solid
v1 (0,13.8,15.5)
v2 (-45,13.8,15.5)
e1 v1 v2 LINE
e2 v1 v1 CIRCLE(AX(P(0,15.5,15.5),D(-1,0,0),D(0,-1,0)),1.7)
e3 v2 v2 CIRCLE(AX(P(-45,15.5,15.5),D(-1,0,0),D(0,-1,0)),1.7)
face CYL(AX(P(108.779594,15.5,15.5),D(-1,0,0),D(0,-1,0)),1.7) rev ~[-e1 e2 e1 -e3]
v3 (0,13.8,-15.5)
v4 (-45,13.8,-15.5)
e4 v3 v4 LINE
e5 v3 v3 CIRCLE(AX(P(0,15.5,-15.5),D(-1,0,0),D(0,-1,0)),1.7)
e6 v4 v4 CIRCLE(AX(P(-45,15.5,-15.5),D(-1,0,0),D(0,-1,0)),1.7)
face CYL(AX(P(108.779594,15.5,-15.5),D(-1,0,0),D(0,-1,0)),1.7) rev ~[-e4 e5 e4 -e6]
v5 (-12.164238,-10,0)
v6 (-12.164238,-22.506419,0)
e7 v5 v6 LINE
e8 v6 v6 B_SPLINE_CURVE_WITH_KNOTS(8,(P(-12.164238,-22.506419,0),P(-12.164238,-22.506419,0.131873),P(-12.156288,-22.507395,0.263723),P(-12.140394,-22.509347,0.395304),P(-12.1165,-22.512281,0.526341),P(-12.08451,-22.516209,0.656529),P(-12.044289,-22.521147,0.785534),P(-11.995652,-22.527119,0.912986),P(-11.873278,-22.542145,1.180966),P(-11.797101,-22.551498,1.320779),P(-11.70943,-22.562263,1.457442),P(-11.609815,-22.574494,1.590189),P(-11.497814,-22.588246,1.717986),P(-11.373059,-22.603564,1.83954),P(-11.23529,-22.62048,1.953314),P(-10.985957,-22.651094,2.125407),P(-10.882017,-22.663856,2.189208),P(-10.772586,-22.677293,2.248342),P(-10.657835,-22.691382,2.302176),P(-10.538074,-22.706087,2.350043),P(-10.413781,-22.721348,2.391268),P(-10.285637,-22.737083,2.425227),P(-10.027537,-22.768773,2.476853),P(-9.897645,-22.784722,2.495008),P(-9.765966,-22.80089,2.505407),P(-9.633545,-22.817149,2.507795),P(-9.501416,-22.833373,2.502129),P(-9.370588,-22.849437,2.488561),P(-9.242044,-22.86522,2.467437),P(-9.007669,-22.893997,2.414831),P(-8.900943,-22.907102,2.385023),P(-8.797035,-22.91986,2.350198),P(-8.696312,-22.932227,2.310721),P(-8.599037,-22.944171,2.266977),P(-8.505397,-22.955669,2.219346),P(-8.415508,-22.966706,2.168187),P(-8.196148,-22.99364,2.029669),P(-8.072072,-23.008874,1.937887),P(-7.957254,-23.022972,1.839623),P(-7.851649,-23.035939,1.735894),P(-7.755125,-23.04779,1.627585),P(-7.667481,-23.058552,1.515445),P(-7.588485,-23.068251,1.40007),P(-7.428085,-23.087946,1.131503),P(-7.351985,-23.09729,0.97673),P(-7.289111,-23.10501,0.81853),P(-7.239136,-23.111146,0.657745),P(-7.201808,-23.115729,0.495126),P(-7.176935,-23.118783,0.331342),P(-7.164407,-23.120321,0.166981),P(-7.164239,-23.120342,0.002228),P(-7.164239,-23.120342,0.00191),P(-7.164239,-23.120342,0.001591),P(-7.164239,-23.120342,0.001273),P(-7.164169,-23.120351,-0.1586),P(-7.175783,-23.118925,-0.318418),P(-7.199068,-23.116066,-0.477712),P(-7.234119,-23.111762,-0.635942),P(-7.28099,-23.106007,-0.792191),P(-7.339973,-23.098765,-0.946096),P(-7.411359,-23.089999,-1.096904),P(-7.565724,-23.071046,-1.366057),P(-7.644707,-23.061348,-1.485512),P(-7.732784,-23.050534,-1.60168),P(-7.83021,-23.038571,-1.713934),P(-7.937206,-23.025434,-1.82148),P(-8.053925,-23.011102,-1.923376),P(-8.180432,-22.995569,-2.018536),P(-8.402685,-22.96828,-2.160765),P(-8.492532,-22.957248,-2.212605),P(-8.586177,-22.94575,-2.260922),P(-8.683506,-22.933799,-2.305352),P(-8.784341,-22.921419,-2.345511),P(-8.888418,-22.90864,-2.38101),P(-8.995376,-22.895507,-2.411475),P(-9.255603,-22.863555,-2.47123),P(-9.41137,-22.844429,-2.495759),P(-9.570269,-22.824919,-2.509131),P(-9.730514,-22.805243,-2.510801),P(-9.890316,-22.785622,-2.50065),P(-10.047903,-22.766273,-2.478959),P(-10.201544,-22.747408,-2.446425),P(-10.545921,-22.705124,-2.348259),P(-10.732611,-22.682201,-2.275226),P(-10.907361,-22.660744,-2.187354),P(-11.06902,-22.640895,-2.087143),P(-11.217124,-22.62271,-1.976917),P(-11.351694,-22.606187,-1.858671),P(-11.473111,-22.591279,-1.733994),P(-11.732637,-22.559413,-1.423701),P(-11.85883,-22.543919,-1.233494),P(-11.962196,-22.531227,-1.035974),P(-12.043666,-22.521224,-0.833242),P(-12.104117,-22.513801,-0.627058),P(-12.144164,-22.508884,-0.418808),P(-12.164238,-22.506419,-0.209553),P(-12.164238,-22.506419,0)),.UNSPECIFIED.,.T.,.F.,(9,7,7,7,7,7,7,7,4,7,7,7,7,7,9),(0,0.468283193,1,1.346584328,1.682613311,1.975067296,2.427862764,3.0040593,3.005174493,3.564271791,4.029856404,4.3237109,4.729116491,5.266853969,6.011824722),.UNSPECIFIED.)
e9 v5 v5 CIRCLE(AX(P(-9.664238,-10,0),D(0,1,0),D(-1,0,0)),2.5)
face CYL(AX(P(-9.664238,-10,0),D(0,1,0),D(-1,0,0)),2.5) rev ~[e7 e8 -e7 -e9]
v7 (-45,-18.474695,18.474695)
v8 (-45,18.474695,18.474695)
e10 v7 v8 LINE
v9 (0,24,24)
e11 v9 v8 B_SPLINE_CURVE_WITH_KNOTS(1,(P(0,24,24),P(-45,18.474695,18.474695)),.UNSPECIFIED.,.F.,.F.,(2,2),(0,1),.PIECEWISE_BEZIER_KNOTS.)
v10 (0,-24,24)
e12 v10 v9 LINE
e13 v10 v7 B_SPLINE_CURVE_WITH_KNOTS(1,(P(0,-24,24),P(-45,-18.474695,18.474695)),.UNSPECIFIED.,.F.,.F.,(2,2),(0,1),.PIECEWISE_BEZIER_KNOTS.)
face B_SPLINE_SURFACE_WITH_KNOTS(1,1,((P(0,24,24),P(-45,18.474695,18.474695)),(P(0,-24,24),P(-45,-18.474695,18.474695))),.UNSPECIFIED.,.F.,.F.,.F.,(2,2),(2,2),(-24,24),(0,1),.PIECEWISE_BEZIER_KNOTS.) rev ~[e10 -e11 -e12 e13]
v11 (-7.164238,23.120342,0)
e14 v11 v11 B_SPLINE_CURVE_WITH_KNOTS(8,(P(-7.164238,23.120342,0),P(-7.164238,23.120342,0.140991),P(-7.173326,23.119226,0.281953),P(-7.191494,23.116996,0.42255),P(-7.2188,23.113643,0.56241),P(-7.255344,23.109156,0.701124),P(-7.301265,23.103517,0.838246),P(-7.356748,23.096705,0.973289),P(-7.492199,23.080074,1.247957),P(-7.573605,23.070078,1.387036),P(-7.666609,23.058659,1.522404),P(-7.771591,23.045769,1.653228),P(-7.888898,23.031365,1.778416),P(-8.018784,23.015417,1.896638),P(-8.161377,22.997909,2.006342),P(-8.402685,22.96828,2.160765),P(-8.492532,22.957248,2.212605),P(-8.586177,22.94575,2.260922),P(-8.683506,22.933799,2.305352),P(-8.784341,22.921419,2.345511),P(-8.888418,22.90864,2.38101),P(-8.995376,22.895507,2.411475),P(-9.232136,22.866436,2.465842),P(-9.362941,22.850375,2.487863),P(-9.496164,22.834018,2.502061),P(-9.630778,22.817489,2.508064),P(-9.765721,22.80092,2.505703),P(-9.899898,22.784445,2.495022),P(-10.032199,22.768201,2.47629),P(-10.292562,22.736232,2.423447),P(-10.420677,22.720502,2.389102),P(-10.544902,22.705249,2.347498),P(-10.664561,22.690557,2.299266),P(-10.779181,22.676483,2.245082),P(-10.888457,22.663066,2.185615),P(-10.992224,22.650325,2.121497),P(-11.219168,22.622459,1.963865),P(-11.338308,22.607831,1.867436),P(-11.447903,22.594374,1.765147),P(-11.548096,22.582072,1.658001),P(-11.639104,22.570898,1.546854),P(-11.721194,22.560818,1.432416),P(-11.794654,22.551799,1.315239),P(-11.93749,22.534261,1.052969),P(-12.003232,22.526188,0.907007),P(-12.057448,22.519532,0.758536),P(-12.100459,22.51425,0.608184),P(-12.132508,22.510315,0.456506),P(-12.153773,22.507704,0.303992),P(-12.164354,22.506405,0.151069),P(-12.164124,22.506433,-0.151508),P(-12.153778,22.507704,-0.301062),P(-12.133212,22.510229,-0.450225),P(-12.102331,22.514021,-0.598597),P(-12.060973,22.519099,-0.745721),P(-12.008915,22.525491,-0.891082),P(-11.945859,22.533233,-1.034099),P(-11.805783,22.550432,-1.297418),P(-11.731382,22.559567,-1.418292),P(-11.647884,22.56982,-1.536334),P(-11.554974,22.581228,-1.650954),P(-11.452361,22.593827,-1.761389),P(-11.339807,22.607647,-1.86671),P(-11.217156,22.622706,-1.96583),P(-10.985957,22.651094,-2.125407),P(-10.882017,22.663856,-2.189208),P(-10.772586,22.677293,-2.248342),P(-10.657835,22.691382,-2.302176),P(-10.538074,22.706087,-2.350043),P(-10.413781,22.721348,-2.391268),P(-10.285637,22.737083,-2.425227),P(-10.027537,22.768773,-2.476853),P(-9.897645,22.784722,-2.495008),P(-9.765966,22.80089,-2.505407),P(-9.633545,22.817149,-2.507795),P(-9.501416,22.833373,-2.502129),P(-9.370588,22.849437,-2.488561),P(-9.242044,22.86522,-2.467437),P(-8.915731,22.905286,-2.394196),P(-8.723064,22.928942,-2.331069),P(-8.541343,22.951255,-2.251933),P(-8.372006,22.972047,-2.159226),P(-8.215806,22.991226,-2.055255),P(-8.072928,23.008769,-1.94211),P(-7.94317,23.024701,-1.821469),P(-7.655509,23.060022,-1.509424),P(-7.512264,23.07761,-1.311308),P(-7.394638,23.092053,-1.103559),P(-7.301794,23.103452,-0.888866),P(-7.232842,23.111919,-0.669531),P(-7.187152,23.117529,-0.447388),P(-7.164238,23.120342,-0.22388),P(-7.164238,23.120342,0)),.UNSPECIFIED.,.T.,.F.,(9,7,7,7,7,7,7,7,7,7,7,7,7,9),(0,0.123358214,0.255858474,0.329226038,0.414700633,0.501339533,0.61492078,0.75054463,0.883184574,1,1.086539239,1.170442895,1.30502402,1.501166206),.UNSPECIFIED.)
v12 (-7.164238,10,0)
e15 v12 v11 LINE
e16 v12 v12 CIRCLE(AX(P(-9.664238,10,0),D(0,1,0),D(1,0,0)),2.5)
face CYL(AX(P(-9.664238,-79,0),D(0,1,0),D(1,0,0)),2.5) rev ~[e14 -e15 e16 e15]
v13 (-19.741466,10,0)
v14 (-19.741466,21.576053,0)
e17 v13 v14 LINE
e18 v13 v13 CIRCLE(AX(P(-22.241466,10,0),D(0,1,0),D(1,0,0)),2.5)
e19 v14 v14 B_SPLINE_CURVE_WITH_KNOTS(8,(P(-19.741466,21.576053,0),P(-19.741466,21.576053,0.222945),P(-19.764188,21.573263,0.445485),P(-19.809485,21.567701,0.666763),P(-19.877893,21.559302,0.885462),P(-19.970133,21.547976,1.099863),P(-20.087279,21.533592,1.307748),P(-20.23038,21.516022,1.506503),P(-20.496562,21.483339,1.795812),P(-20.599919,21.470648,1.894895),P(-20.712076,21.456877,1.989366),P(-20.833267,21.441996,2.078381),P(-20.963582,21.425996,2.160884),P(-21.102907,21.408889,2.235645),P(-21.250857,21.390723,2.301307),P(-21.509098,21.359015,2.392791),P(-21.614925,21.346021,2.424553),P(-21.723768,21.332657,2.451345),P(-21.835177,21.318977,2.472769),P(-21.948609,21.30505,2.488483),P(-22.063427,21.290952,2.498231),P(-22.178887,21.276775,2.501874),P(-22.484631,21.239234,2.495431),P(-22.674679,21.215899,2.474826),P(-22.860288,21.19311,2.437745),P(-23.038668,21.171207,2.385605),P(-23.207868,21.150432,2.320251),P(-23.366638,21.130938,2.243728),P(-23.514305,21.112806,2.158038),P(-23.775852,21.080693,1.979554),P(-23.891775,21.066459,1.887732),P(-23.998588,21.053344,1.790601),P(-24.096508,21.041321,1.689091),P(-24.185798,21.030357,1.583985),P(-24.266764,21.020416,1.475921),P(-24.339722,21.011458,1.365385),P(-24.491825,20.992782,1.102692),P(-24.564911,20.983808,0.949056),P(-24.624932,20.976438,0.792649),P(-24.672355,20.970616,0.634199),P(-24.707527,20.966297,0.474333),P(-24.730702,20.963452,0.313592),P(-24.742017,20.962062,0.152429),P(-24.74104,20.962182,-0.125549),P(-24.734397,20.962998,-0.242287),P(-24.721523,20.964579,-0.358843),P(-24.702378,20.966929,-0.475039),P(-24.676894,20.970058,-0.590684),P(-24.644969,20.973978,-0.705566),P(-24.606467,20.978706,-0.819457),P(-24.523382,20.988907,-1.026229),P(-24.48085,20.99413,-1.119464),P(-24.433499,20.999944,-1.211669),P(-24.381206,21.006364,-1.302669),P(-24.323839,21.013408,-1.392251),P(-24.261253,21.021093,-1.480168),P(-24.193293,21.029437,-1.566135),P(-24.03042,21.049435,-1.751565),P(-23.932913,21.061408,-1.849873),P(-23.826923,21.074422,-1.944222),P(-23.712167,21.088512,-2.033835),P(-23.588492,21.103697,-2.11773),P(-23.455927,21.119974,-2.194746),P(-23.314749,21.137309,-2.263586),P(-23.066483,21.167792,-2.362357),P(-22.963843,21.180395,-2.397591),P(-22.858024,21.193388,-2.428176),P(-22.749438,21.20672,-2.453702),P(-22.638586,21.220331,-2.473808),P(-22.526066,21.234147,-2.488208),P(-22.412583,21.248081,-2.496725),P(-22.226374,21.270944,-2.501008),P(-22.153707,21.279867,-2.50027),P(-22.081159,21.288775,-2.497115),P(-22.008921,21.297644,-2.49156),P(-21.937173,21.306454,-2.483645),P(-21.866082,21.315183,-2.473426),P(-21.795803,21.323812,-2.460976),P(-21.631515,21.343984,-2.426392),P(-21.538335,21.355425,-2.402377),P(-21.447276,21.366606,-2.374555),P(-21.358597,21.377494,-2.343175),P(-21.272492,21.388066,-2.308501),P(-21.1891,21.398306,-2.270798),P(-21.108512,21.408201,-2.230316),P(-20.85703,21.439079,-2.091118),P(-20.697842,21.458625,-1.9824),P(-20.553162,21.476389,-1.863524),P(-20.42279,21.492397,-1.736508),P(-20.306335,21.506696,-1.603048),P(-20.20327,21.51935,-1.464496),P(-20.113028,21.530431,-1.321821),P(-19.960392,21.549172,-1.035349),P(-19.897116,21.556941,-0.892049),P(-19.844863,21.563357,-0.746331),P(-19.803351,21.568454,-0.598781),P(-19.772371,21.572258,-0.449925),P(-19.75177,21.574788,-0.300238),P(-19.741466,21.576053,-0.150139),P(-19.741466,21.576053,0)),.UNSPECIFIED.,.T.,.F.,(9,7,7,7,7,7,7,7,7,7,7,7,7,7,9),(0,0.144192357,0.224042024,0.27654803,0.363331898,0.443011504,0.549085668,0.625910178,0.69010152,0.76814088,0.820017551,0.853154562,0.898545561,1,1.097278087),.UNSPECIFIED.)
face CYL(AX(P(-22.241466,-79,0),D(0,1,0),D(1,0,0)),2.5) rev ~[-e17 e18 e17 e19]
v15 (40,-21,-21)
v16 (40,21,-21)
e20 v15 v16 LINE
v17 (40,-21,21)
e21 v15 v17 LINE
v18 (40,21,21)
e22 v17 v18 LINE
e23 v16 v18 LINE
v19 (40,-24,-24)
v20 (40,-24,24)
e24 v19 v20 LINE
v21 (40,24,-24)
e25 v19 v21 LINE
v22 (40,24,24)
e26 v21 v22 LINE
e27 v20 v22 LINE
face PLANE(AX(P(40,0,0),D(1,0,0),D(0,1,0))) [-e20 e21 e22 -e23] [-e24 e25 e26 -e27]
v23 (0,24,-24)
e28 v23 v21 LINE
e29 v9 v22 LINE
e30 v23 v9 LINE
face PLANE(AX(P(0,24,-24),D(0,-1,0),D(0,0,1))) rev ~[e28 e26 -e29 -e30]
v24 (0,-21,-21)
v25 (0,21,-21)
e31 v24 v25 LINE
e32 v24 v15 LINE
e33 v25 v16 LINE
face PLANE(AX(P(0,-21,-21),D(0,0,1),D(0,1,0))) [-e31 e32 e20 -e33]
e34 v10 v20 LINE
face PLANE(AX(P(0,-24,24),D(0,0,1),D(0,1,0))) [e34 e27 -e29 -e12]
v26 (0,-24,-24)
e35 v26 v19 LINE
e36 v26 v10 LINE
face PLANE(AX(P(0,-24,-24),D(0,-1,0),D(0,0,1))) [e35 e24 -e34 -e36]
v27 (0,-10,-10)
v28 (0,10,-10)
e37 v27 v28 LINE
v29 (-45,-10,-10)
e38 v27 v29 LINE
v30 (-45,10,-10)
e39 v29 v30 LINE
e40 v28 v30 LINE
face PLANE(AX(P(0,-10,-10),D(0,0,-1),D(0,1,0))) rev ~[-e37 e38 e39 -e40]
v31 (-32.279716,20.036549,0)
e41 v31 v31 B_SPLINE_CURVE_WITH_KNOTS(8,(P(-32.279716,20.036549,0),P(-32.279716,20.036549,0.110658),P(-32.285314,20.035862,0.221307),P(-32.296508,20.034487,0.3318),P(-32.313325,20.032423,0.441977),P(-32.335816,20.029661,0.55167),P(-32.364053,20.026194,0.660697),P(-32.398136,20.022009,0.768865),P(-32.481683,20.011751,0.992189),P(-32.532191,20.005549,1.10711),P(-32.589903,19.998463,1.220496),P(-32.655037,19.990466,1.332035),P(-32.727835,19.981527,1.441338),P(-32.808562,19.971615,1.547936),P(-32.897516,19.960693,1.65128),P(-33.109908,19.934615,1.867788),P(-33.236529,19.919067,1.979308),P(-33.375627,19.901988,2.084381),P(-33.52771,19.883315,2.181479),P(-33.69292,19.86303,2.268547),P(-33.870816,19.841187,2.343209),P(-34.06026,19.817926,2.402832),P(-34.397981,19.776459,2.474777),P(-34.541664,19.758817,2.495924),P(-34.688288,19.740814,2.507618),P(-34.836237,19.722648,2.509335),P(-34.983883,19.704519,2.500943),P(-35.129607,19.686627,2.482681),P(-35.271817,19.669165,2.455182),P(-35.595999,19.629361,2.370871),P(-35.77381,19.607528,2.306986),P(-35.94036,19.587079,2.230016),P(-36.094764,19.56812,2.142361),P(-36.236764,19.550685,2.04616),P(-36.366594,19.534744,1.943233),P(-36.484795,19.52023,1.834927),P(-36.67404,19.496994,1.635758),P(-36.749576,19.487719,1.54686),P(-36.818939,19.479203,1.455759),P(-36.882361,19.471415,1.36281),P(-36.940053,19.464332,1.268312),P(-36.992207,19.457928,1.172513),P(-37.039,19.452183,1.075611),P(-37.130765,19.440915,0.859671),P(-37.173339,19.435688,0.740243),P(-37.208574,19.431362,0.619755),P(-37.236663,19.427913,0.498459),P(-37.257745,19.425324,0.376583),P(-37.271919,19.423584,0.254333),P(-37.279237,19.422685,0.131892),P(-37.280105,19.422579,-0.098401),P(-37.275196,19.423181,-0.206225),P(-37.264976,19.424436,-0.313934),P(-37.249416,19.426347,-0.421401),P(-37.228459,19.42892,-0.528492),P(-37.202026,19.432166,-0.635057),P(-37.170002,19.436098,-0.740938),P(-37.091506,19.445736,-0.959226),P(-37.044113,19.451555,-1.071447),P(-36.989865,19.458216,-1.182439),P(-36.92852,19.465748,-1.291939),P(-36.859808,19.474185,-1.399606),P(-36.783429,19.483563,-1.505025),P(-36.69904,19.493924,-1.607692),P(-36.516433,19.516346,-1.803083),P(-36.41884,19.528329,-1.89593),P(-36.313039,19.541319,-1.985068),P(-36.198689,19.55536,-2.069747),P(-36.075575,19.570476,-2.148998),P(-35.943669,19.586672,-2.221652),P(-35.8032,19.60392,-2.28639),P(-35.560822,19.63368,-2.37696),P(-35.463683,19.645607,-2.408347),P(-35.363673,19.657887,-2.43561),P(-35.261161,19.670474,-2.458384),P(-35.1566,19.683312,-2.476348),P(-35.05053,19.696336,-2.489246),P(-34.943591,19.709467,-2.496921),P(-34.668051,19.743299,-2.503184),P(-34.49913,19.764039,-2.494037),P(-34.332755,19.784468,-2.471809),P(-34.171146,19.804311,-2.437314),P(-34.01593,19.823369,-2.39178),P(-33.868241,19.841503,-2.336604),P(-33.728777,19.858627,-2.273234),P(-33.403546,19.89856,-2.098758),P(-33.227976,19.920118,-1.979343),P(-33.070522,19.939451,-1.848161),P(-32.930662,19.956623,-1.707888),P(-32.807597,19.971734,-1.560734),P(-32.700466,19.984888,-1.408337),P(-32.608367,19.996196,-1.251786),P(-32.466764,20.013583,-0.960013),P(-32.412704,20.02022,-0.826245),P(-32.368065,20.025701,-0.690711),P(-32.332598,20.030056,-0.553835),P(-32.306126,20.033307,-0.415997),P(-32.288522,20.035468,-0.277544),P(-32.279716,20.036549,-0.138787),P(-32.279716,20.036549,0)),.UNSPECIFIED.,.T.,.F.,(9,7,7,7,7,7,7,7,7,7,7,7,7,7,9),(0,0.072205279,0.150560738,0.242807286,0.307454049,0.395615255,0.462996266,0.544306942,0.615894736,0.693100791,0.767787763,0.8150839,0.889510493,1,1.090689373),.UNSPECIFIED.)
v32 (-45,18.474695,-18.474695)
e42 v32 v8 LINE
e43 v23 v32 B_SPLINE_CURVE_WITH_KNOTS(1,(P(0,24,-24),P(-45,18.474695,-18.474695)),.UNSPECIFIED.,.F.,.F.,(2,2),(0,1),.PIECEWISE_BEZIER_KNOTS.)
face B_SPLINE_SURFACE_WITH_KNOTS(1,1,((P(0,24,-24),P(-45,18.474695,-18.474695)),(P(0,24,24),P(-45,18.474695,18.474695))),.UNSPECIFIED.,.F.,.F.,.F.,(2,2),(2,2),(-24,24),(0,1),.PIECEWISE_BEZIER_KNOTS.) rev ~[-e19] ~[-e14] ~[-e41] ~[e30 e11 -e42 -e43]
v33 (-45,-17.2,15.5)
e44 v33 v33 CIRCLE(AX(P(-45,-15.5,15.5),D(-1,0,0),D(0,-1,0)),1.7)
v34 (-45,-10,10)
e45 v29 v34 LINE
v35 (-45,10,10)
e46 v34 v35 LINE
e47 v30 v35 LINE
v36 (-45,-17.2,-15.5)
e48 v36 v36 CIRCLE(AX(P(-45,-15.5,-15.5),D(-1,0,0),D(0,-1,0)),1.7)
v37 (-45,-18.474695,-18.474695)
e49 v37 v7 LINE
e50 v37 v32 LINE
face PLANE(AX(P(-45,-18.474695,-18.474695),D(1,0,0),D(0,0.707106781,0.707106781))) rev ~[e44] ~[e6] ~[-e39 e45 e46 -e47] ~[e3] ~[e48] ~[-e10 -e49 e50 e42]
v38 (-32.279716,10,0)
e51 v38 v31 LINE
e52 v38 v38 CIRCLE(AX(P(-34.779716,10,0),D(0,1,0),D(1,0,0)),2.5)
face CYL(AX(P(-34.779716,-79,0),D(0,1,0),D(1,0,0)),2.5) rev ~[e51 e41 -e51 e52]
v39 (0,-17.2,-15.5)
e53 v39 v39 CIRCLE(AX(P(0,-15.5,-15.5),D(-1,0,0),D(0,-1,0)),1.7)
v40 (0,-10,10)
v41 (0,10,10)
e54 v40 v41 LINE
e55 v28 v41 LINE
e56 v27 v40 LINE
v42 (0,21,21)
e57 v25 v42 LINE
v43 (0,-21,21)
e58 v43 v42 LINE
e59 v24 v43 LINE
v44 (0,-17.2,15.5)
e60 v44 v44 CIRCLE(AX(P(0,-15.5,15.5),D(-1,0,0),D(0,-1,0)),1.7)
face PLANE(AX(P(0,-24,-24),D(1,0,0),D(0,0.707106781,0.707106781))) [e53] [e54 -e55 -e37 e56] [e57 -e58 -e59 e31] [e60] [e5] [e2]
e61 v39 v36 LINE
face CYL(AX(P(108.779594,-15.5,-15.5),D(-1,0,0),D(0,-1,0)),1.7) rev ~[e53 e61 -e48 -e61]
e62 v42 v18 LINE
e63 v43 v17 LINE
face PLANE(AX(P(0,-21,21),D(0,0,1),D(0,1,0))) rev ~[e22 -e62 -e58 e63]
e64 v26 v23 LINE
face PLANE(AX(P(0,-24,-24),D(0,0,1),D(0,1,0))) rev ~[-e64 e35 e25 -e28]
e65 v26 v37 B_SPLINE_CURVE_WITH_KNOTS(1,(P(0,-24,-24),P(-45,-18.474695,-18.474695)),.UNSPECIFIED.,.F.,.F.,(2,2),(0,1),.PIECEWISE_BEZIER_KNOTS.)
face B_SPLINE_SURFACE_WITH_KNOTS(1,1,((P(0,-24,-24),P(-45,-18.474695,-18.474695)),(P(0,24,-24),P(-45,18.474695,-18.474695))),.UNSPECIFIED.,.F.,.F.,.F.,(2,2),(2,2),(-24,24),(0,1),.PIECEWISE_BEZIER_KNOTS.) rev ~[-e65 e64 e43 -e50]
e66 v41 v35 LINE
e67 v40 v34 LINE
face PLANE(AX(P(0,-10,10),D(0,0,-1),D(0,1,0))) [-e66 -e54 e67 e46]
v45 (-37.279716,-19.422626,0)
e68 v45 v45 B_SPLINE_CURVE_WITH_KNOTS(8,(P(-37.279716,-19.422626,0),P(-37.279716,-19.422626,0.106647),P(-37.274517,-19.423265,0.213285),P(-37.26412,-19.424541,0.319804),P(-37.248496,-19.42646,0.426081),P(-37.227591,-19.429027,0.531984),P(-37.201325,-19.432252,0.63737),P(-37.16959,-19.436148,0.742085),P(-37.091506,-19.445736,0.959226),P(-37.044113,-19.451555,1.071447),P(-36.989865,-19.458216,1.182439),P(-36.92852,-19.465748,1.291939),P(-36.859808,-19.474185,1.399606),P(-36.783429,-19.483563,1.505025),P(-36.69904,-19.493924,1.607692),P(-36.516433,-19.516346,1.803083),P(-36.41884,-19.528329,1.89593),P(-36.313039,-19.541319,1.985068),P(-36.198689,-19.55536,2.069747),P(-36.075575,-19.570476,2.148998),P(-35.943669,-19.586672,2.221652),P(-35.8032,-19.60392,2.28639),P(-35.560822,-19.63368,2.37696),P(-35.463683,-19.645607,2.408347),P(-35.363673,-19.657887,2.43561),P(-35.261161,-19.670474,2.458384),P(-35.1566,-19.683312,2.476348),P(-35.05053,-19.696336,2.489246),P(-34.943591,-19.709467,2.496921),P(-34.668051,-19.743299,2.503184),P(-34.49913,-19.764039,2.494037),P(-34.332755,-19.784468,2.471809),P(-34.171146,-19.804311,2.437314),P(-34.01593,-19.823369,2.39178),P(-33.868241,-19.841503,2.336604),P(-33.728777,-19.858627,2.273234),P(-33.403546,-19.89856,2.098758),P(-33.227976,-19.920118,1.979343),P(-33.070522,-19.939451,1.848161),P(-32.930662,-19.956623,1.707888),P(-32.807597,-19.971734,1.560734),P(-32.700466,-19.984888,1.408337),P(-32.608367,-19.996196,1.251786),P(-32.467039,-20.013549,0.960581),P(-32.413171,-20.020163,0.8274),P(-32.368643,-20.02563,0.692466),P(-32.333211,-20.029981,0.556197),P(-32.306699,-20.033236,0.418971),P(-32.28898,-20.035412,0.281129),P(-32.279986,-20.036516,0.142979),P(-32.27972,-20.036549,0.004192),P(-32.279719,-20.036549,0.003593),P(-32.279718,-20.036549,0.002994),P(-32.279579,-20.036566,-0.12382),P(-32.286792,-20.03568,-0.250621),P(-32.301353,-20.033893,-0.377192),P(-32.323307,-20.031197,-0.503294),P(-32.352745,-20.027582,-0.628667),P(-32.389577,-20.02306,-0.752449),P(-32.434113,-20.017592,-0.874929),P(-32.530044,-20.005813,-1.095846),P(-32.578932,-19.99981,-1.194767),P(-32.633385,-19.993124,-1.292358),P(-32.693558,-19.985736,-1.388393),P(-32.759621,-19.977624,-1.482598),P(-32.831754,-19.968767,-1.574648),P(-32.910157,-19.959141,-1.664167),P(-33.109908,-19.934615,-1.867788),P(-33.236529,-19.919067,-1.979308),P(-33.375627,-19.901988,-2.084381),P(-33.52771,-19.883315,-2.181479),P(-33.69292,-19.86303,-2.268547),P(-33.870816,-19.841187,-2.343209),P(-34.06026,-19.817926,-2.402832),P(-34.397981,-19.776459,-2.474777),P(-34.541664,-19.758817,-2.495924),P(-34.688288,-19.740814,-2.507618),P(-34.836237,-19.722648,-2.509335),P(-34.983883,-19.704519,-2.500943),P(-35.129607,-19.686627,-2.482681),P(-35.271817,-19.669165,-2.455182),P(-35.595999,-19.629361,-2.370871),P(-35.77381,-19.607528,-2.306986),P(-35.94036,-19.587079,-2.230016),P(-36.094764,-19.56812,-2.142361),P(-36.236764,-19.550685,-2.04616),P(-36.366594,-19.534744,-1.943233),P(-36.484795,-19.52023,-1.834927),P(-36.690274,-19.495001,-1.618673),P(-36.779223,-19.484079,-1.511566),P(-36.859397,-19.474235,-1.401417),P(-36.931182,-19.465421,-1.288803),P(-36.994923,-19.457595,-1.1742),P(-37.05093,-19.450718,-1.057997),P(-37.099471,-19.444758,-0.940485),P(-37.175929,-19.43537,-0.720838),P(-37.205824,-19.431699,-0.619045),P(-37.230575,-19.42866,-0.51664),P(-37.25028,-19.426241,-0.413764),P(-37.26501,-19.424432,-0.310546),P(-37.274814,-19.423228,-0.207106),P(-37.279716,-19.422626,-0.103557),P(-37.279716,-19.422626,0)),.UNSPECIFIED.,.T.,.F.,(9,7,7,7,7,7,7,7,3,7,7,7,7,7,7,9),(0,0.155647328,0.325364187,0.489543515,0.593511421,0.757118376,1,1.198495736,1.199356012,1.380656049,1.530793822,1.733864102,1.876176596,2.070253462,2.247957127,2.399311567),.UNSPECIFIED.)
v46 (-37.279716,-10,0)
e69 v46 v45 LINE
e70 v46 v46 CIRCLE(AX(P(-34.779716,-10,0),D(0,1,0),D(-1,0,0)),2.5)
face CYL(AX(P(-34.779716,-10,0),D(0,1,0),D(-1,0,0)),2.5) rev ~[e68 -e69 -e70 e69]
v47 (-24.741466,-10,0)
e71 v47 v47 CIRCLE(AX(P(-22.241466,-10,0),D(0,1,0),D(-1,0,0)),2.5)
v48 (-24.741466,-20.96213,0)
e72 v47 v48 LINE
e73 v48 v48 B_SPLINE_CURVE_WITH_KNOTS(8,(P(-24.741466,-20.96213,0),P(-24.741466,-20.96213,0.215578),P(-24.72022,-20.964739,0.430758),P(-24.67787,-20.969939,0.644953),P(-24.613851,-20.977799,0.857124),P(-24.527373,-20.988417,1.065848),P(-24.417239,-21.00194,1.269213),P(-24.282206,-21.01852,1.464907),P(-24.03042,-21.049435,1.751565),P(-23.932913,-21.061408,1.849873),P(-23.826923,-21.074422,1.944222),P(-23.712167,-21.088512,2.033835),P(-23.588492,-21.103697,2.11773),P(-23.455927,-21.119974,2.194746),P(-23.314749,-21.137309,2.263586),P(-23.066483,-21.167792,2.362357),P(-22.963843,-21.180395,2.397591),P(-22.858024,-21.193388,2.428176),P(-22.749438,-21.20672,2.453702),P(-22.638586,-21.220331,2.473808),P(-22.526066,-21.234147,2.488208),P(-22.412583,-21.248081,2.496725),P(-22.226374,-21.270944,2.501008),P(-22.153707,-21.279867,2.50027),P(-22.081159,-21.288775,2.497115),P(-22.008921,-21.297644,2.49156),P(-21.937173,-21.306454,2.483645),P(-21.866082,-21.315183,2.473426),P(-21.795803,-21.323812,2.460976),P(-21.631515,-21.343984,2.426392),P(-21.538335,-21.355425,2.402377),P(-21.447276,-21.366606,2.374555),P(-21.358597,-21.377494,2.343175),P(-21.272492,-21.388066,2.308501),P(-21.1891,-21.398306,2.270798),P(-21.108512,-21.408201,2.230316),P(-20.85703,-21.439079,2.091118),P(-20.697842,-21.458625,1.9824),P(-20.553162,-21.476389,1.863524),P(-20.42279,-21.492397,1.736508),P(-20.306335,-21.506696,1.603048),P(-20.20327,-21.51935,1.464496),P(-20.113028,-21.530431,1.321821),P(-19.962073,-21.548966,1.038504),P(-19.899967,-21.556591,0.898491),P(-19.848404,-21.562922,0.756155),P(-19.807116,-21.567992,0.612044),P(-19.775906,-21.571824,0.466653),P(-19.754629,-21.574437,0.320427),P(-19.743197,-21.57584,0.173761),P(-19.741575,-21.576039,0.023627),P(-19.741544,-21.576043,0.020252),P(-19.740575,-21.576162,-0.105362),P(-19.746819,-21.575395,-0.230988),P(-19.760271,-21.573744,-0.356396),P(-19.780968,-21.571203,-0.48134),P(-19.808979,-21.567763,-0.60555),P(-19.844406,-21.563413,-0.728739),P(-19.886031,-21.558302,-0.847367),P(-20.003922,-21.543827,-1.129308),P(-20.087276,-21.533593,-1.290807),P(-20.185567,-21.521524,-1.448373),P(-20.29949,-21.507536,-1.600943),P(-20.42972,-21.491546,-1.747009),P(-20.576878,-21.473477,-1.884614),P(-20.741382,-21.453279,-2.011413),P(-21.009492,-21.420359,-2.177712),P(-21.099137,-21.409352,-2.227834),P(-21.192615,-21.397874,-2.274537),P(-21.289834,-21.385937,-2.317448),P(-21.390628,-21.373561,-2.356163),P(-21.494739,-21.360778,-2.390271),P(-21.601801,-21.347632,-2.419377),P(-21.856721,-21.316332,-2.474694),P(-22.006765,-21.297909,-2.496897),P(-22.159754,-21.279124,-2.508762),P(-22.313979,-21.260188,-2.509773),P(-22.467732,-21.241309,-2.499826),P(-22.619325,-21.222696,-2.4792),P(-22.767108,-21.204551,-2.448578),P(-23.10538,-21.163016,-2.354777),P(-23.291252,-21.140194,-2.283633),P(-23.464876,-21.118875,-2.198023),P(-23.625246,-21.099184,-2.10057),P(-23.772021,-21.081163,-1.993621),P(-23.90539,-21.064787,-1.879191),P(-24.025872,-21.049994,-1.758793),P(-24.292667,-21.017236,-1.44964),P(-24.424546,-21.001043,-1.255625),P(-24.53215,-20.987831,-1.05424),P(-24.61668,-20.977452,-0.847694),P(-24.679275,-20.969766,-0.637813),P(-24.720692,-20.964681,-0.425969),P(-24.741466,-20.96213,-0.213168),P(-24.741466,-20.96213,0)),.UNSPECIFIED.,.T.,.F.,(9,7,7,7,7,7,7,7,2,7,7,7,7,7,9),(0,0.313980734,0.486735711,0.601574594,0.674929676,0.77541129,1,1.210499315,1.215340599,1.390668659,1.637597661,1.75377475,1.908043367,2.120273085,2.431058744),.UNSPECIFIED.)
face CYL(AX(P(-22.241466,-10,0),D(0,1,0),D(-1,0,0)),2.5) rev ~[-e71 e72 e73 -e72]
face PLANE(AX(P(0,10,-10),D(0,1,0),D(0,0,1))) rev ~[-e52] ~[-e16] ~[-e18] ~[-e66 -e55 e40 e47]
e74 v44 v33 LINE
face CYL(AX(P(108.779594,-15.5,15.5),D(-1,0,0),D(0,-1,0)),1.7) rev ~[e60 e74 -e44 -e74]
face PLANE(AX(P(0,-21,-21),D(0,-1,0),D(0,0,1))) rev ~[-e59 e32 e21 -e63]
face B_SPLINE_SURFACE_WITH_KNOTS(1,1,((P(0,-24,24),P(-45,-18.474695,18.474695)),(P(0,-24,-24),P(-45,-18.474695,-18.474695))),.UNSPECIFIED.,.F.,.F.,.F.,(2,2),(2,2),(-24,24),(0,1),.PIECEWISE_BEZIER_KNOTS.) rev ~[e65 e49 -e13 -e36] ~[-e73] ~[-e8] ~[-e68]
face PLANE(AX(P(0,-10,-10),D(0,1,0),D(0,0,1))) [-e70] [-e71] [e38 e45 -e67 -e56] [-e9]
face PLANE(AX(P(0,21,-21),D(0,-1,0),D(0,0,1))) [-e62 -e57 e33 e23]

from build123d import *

# Parameters (mm, degrees)
F0_W     = 48
F0_H     = 48
F0_W_2   = 42
F0_H_2   = 42
F0_W_3   = 20
F0_H_3   = 20
F1_DEPTH = 45
F1_TAPER = 7
F2_DEPTH = 60
F3_DEPTH = 40
F4_D     = 3.4
F6_D     = 5
F6_DEPTH = 69
F6_TIP   = 1.5021515476
F7_D     = 5
F7_DEPTH = 69
F7_TIP   = 1.5021515476


with BuildPart() as f1:
    # F0 (on Right) → F1 (new body)
    with BuildSketch(Plane.YZ):
        Rectangle(F0_W, F0_H)
        Rectangle(F0_W_2, F0_H_2, mode=Mode.SUBTRACT)
        Rectangle(F0_W_2, F0_H_2)
        Rectangle(F0_W_3, F0_H_3, mode=Mode.SUBTRACT)
        Rectangle(F0_W_3, F0_H_3)
    extrude(amount=-F1_DEPTH, taper=F1_TAPER)

    # F0 (on Right) → F2 (cut)
    with BuildSketch(Plane.YZ):
        Rectangle(F0_W_3, F0_H_3)
    extrude(amount=-F2_DEPTH, mode=Mode.SUBTRACT)

    # F0 (on Right) → F3 (join)
    with BuildSketch(Plane.YZ):
        Rectangle(F0_W, F0_H)
        Rectangle(F0_W_2, F0_H_2, mode=Mode.SUBTRACT)
    extrude(amount=F3_DEPTH)

    # F4 (through all)
    with Locations(Plane.YZ):
        with Locations((15.5, 15.5), (-15.5, 15.5), (-15.5, -15.5), (15.5, -15.5)):
            Hole(F4_D / 2)

    # F6 (one way)
    with BuildSketch(Plane(origin=(0, -10, 0), x_dir=(-1, 0, 0), z_dir=(0, 1, 0))):
        with Locations((34.7797162831, 0), (22.2414657474, 0), (9.6642384306, 0)):
            Circle(F6_D / 2)
    extrude(amount=-F6_DEPTH, mode=Mode.SUBTRACT)
    with Locations(Plane(origin=(0, -10, 0), x_dir=(-1, 0, 0), z_dir=(0, 1, 0))):
        with Locations((34.7797162831, 0), (22.2414657474, 0), (9.6642384306, 0)):
            with Locations((0, 0, -(F6_DEPTH + F6_TIP / 2))):  # 118° drill point
                Cone(0, F6_D / 2, F6_TIP, mode=Mode.SUBTRACT)

    # F7
    with Locations(Plane(origin=(0, -10, 0), x_dir=(-1, 0, 0), z_dir=(0, -1, 0))):
        with Locations((34.7797162831, 0), (22.2414657474, 0), (9.6642384306, 0)):
            Hole(F7_D / 2, depth=F7_DEPTH)
            with Locations((0, 0, -(F7_DEPTH + F7_TIP / 2))):  # 118° drill point
                Cone(0, F7_D / 2, F7_TIP, mode=Mode.SUBTRACT)


solid = f1.part
